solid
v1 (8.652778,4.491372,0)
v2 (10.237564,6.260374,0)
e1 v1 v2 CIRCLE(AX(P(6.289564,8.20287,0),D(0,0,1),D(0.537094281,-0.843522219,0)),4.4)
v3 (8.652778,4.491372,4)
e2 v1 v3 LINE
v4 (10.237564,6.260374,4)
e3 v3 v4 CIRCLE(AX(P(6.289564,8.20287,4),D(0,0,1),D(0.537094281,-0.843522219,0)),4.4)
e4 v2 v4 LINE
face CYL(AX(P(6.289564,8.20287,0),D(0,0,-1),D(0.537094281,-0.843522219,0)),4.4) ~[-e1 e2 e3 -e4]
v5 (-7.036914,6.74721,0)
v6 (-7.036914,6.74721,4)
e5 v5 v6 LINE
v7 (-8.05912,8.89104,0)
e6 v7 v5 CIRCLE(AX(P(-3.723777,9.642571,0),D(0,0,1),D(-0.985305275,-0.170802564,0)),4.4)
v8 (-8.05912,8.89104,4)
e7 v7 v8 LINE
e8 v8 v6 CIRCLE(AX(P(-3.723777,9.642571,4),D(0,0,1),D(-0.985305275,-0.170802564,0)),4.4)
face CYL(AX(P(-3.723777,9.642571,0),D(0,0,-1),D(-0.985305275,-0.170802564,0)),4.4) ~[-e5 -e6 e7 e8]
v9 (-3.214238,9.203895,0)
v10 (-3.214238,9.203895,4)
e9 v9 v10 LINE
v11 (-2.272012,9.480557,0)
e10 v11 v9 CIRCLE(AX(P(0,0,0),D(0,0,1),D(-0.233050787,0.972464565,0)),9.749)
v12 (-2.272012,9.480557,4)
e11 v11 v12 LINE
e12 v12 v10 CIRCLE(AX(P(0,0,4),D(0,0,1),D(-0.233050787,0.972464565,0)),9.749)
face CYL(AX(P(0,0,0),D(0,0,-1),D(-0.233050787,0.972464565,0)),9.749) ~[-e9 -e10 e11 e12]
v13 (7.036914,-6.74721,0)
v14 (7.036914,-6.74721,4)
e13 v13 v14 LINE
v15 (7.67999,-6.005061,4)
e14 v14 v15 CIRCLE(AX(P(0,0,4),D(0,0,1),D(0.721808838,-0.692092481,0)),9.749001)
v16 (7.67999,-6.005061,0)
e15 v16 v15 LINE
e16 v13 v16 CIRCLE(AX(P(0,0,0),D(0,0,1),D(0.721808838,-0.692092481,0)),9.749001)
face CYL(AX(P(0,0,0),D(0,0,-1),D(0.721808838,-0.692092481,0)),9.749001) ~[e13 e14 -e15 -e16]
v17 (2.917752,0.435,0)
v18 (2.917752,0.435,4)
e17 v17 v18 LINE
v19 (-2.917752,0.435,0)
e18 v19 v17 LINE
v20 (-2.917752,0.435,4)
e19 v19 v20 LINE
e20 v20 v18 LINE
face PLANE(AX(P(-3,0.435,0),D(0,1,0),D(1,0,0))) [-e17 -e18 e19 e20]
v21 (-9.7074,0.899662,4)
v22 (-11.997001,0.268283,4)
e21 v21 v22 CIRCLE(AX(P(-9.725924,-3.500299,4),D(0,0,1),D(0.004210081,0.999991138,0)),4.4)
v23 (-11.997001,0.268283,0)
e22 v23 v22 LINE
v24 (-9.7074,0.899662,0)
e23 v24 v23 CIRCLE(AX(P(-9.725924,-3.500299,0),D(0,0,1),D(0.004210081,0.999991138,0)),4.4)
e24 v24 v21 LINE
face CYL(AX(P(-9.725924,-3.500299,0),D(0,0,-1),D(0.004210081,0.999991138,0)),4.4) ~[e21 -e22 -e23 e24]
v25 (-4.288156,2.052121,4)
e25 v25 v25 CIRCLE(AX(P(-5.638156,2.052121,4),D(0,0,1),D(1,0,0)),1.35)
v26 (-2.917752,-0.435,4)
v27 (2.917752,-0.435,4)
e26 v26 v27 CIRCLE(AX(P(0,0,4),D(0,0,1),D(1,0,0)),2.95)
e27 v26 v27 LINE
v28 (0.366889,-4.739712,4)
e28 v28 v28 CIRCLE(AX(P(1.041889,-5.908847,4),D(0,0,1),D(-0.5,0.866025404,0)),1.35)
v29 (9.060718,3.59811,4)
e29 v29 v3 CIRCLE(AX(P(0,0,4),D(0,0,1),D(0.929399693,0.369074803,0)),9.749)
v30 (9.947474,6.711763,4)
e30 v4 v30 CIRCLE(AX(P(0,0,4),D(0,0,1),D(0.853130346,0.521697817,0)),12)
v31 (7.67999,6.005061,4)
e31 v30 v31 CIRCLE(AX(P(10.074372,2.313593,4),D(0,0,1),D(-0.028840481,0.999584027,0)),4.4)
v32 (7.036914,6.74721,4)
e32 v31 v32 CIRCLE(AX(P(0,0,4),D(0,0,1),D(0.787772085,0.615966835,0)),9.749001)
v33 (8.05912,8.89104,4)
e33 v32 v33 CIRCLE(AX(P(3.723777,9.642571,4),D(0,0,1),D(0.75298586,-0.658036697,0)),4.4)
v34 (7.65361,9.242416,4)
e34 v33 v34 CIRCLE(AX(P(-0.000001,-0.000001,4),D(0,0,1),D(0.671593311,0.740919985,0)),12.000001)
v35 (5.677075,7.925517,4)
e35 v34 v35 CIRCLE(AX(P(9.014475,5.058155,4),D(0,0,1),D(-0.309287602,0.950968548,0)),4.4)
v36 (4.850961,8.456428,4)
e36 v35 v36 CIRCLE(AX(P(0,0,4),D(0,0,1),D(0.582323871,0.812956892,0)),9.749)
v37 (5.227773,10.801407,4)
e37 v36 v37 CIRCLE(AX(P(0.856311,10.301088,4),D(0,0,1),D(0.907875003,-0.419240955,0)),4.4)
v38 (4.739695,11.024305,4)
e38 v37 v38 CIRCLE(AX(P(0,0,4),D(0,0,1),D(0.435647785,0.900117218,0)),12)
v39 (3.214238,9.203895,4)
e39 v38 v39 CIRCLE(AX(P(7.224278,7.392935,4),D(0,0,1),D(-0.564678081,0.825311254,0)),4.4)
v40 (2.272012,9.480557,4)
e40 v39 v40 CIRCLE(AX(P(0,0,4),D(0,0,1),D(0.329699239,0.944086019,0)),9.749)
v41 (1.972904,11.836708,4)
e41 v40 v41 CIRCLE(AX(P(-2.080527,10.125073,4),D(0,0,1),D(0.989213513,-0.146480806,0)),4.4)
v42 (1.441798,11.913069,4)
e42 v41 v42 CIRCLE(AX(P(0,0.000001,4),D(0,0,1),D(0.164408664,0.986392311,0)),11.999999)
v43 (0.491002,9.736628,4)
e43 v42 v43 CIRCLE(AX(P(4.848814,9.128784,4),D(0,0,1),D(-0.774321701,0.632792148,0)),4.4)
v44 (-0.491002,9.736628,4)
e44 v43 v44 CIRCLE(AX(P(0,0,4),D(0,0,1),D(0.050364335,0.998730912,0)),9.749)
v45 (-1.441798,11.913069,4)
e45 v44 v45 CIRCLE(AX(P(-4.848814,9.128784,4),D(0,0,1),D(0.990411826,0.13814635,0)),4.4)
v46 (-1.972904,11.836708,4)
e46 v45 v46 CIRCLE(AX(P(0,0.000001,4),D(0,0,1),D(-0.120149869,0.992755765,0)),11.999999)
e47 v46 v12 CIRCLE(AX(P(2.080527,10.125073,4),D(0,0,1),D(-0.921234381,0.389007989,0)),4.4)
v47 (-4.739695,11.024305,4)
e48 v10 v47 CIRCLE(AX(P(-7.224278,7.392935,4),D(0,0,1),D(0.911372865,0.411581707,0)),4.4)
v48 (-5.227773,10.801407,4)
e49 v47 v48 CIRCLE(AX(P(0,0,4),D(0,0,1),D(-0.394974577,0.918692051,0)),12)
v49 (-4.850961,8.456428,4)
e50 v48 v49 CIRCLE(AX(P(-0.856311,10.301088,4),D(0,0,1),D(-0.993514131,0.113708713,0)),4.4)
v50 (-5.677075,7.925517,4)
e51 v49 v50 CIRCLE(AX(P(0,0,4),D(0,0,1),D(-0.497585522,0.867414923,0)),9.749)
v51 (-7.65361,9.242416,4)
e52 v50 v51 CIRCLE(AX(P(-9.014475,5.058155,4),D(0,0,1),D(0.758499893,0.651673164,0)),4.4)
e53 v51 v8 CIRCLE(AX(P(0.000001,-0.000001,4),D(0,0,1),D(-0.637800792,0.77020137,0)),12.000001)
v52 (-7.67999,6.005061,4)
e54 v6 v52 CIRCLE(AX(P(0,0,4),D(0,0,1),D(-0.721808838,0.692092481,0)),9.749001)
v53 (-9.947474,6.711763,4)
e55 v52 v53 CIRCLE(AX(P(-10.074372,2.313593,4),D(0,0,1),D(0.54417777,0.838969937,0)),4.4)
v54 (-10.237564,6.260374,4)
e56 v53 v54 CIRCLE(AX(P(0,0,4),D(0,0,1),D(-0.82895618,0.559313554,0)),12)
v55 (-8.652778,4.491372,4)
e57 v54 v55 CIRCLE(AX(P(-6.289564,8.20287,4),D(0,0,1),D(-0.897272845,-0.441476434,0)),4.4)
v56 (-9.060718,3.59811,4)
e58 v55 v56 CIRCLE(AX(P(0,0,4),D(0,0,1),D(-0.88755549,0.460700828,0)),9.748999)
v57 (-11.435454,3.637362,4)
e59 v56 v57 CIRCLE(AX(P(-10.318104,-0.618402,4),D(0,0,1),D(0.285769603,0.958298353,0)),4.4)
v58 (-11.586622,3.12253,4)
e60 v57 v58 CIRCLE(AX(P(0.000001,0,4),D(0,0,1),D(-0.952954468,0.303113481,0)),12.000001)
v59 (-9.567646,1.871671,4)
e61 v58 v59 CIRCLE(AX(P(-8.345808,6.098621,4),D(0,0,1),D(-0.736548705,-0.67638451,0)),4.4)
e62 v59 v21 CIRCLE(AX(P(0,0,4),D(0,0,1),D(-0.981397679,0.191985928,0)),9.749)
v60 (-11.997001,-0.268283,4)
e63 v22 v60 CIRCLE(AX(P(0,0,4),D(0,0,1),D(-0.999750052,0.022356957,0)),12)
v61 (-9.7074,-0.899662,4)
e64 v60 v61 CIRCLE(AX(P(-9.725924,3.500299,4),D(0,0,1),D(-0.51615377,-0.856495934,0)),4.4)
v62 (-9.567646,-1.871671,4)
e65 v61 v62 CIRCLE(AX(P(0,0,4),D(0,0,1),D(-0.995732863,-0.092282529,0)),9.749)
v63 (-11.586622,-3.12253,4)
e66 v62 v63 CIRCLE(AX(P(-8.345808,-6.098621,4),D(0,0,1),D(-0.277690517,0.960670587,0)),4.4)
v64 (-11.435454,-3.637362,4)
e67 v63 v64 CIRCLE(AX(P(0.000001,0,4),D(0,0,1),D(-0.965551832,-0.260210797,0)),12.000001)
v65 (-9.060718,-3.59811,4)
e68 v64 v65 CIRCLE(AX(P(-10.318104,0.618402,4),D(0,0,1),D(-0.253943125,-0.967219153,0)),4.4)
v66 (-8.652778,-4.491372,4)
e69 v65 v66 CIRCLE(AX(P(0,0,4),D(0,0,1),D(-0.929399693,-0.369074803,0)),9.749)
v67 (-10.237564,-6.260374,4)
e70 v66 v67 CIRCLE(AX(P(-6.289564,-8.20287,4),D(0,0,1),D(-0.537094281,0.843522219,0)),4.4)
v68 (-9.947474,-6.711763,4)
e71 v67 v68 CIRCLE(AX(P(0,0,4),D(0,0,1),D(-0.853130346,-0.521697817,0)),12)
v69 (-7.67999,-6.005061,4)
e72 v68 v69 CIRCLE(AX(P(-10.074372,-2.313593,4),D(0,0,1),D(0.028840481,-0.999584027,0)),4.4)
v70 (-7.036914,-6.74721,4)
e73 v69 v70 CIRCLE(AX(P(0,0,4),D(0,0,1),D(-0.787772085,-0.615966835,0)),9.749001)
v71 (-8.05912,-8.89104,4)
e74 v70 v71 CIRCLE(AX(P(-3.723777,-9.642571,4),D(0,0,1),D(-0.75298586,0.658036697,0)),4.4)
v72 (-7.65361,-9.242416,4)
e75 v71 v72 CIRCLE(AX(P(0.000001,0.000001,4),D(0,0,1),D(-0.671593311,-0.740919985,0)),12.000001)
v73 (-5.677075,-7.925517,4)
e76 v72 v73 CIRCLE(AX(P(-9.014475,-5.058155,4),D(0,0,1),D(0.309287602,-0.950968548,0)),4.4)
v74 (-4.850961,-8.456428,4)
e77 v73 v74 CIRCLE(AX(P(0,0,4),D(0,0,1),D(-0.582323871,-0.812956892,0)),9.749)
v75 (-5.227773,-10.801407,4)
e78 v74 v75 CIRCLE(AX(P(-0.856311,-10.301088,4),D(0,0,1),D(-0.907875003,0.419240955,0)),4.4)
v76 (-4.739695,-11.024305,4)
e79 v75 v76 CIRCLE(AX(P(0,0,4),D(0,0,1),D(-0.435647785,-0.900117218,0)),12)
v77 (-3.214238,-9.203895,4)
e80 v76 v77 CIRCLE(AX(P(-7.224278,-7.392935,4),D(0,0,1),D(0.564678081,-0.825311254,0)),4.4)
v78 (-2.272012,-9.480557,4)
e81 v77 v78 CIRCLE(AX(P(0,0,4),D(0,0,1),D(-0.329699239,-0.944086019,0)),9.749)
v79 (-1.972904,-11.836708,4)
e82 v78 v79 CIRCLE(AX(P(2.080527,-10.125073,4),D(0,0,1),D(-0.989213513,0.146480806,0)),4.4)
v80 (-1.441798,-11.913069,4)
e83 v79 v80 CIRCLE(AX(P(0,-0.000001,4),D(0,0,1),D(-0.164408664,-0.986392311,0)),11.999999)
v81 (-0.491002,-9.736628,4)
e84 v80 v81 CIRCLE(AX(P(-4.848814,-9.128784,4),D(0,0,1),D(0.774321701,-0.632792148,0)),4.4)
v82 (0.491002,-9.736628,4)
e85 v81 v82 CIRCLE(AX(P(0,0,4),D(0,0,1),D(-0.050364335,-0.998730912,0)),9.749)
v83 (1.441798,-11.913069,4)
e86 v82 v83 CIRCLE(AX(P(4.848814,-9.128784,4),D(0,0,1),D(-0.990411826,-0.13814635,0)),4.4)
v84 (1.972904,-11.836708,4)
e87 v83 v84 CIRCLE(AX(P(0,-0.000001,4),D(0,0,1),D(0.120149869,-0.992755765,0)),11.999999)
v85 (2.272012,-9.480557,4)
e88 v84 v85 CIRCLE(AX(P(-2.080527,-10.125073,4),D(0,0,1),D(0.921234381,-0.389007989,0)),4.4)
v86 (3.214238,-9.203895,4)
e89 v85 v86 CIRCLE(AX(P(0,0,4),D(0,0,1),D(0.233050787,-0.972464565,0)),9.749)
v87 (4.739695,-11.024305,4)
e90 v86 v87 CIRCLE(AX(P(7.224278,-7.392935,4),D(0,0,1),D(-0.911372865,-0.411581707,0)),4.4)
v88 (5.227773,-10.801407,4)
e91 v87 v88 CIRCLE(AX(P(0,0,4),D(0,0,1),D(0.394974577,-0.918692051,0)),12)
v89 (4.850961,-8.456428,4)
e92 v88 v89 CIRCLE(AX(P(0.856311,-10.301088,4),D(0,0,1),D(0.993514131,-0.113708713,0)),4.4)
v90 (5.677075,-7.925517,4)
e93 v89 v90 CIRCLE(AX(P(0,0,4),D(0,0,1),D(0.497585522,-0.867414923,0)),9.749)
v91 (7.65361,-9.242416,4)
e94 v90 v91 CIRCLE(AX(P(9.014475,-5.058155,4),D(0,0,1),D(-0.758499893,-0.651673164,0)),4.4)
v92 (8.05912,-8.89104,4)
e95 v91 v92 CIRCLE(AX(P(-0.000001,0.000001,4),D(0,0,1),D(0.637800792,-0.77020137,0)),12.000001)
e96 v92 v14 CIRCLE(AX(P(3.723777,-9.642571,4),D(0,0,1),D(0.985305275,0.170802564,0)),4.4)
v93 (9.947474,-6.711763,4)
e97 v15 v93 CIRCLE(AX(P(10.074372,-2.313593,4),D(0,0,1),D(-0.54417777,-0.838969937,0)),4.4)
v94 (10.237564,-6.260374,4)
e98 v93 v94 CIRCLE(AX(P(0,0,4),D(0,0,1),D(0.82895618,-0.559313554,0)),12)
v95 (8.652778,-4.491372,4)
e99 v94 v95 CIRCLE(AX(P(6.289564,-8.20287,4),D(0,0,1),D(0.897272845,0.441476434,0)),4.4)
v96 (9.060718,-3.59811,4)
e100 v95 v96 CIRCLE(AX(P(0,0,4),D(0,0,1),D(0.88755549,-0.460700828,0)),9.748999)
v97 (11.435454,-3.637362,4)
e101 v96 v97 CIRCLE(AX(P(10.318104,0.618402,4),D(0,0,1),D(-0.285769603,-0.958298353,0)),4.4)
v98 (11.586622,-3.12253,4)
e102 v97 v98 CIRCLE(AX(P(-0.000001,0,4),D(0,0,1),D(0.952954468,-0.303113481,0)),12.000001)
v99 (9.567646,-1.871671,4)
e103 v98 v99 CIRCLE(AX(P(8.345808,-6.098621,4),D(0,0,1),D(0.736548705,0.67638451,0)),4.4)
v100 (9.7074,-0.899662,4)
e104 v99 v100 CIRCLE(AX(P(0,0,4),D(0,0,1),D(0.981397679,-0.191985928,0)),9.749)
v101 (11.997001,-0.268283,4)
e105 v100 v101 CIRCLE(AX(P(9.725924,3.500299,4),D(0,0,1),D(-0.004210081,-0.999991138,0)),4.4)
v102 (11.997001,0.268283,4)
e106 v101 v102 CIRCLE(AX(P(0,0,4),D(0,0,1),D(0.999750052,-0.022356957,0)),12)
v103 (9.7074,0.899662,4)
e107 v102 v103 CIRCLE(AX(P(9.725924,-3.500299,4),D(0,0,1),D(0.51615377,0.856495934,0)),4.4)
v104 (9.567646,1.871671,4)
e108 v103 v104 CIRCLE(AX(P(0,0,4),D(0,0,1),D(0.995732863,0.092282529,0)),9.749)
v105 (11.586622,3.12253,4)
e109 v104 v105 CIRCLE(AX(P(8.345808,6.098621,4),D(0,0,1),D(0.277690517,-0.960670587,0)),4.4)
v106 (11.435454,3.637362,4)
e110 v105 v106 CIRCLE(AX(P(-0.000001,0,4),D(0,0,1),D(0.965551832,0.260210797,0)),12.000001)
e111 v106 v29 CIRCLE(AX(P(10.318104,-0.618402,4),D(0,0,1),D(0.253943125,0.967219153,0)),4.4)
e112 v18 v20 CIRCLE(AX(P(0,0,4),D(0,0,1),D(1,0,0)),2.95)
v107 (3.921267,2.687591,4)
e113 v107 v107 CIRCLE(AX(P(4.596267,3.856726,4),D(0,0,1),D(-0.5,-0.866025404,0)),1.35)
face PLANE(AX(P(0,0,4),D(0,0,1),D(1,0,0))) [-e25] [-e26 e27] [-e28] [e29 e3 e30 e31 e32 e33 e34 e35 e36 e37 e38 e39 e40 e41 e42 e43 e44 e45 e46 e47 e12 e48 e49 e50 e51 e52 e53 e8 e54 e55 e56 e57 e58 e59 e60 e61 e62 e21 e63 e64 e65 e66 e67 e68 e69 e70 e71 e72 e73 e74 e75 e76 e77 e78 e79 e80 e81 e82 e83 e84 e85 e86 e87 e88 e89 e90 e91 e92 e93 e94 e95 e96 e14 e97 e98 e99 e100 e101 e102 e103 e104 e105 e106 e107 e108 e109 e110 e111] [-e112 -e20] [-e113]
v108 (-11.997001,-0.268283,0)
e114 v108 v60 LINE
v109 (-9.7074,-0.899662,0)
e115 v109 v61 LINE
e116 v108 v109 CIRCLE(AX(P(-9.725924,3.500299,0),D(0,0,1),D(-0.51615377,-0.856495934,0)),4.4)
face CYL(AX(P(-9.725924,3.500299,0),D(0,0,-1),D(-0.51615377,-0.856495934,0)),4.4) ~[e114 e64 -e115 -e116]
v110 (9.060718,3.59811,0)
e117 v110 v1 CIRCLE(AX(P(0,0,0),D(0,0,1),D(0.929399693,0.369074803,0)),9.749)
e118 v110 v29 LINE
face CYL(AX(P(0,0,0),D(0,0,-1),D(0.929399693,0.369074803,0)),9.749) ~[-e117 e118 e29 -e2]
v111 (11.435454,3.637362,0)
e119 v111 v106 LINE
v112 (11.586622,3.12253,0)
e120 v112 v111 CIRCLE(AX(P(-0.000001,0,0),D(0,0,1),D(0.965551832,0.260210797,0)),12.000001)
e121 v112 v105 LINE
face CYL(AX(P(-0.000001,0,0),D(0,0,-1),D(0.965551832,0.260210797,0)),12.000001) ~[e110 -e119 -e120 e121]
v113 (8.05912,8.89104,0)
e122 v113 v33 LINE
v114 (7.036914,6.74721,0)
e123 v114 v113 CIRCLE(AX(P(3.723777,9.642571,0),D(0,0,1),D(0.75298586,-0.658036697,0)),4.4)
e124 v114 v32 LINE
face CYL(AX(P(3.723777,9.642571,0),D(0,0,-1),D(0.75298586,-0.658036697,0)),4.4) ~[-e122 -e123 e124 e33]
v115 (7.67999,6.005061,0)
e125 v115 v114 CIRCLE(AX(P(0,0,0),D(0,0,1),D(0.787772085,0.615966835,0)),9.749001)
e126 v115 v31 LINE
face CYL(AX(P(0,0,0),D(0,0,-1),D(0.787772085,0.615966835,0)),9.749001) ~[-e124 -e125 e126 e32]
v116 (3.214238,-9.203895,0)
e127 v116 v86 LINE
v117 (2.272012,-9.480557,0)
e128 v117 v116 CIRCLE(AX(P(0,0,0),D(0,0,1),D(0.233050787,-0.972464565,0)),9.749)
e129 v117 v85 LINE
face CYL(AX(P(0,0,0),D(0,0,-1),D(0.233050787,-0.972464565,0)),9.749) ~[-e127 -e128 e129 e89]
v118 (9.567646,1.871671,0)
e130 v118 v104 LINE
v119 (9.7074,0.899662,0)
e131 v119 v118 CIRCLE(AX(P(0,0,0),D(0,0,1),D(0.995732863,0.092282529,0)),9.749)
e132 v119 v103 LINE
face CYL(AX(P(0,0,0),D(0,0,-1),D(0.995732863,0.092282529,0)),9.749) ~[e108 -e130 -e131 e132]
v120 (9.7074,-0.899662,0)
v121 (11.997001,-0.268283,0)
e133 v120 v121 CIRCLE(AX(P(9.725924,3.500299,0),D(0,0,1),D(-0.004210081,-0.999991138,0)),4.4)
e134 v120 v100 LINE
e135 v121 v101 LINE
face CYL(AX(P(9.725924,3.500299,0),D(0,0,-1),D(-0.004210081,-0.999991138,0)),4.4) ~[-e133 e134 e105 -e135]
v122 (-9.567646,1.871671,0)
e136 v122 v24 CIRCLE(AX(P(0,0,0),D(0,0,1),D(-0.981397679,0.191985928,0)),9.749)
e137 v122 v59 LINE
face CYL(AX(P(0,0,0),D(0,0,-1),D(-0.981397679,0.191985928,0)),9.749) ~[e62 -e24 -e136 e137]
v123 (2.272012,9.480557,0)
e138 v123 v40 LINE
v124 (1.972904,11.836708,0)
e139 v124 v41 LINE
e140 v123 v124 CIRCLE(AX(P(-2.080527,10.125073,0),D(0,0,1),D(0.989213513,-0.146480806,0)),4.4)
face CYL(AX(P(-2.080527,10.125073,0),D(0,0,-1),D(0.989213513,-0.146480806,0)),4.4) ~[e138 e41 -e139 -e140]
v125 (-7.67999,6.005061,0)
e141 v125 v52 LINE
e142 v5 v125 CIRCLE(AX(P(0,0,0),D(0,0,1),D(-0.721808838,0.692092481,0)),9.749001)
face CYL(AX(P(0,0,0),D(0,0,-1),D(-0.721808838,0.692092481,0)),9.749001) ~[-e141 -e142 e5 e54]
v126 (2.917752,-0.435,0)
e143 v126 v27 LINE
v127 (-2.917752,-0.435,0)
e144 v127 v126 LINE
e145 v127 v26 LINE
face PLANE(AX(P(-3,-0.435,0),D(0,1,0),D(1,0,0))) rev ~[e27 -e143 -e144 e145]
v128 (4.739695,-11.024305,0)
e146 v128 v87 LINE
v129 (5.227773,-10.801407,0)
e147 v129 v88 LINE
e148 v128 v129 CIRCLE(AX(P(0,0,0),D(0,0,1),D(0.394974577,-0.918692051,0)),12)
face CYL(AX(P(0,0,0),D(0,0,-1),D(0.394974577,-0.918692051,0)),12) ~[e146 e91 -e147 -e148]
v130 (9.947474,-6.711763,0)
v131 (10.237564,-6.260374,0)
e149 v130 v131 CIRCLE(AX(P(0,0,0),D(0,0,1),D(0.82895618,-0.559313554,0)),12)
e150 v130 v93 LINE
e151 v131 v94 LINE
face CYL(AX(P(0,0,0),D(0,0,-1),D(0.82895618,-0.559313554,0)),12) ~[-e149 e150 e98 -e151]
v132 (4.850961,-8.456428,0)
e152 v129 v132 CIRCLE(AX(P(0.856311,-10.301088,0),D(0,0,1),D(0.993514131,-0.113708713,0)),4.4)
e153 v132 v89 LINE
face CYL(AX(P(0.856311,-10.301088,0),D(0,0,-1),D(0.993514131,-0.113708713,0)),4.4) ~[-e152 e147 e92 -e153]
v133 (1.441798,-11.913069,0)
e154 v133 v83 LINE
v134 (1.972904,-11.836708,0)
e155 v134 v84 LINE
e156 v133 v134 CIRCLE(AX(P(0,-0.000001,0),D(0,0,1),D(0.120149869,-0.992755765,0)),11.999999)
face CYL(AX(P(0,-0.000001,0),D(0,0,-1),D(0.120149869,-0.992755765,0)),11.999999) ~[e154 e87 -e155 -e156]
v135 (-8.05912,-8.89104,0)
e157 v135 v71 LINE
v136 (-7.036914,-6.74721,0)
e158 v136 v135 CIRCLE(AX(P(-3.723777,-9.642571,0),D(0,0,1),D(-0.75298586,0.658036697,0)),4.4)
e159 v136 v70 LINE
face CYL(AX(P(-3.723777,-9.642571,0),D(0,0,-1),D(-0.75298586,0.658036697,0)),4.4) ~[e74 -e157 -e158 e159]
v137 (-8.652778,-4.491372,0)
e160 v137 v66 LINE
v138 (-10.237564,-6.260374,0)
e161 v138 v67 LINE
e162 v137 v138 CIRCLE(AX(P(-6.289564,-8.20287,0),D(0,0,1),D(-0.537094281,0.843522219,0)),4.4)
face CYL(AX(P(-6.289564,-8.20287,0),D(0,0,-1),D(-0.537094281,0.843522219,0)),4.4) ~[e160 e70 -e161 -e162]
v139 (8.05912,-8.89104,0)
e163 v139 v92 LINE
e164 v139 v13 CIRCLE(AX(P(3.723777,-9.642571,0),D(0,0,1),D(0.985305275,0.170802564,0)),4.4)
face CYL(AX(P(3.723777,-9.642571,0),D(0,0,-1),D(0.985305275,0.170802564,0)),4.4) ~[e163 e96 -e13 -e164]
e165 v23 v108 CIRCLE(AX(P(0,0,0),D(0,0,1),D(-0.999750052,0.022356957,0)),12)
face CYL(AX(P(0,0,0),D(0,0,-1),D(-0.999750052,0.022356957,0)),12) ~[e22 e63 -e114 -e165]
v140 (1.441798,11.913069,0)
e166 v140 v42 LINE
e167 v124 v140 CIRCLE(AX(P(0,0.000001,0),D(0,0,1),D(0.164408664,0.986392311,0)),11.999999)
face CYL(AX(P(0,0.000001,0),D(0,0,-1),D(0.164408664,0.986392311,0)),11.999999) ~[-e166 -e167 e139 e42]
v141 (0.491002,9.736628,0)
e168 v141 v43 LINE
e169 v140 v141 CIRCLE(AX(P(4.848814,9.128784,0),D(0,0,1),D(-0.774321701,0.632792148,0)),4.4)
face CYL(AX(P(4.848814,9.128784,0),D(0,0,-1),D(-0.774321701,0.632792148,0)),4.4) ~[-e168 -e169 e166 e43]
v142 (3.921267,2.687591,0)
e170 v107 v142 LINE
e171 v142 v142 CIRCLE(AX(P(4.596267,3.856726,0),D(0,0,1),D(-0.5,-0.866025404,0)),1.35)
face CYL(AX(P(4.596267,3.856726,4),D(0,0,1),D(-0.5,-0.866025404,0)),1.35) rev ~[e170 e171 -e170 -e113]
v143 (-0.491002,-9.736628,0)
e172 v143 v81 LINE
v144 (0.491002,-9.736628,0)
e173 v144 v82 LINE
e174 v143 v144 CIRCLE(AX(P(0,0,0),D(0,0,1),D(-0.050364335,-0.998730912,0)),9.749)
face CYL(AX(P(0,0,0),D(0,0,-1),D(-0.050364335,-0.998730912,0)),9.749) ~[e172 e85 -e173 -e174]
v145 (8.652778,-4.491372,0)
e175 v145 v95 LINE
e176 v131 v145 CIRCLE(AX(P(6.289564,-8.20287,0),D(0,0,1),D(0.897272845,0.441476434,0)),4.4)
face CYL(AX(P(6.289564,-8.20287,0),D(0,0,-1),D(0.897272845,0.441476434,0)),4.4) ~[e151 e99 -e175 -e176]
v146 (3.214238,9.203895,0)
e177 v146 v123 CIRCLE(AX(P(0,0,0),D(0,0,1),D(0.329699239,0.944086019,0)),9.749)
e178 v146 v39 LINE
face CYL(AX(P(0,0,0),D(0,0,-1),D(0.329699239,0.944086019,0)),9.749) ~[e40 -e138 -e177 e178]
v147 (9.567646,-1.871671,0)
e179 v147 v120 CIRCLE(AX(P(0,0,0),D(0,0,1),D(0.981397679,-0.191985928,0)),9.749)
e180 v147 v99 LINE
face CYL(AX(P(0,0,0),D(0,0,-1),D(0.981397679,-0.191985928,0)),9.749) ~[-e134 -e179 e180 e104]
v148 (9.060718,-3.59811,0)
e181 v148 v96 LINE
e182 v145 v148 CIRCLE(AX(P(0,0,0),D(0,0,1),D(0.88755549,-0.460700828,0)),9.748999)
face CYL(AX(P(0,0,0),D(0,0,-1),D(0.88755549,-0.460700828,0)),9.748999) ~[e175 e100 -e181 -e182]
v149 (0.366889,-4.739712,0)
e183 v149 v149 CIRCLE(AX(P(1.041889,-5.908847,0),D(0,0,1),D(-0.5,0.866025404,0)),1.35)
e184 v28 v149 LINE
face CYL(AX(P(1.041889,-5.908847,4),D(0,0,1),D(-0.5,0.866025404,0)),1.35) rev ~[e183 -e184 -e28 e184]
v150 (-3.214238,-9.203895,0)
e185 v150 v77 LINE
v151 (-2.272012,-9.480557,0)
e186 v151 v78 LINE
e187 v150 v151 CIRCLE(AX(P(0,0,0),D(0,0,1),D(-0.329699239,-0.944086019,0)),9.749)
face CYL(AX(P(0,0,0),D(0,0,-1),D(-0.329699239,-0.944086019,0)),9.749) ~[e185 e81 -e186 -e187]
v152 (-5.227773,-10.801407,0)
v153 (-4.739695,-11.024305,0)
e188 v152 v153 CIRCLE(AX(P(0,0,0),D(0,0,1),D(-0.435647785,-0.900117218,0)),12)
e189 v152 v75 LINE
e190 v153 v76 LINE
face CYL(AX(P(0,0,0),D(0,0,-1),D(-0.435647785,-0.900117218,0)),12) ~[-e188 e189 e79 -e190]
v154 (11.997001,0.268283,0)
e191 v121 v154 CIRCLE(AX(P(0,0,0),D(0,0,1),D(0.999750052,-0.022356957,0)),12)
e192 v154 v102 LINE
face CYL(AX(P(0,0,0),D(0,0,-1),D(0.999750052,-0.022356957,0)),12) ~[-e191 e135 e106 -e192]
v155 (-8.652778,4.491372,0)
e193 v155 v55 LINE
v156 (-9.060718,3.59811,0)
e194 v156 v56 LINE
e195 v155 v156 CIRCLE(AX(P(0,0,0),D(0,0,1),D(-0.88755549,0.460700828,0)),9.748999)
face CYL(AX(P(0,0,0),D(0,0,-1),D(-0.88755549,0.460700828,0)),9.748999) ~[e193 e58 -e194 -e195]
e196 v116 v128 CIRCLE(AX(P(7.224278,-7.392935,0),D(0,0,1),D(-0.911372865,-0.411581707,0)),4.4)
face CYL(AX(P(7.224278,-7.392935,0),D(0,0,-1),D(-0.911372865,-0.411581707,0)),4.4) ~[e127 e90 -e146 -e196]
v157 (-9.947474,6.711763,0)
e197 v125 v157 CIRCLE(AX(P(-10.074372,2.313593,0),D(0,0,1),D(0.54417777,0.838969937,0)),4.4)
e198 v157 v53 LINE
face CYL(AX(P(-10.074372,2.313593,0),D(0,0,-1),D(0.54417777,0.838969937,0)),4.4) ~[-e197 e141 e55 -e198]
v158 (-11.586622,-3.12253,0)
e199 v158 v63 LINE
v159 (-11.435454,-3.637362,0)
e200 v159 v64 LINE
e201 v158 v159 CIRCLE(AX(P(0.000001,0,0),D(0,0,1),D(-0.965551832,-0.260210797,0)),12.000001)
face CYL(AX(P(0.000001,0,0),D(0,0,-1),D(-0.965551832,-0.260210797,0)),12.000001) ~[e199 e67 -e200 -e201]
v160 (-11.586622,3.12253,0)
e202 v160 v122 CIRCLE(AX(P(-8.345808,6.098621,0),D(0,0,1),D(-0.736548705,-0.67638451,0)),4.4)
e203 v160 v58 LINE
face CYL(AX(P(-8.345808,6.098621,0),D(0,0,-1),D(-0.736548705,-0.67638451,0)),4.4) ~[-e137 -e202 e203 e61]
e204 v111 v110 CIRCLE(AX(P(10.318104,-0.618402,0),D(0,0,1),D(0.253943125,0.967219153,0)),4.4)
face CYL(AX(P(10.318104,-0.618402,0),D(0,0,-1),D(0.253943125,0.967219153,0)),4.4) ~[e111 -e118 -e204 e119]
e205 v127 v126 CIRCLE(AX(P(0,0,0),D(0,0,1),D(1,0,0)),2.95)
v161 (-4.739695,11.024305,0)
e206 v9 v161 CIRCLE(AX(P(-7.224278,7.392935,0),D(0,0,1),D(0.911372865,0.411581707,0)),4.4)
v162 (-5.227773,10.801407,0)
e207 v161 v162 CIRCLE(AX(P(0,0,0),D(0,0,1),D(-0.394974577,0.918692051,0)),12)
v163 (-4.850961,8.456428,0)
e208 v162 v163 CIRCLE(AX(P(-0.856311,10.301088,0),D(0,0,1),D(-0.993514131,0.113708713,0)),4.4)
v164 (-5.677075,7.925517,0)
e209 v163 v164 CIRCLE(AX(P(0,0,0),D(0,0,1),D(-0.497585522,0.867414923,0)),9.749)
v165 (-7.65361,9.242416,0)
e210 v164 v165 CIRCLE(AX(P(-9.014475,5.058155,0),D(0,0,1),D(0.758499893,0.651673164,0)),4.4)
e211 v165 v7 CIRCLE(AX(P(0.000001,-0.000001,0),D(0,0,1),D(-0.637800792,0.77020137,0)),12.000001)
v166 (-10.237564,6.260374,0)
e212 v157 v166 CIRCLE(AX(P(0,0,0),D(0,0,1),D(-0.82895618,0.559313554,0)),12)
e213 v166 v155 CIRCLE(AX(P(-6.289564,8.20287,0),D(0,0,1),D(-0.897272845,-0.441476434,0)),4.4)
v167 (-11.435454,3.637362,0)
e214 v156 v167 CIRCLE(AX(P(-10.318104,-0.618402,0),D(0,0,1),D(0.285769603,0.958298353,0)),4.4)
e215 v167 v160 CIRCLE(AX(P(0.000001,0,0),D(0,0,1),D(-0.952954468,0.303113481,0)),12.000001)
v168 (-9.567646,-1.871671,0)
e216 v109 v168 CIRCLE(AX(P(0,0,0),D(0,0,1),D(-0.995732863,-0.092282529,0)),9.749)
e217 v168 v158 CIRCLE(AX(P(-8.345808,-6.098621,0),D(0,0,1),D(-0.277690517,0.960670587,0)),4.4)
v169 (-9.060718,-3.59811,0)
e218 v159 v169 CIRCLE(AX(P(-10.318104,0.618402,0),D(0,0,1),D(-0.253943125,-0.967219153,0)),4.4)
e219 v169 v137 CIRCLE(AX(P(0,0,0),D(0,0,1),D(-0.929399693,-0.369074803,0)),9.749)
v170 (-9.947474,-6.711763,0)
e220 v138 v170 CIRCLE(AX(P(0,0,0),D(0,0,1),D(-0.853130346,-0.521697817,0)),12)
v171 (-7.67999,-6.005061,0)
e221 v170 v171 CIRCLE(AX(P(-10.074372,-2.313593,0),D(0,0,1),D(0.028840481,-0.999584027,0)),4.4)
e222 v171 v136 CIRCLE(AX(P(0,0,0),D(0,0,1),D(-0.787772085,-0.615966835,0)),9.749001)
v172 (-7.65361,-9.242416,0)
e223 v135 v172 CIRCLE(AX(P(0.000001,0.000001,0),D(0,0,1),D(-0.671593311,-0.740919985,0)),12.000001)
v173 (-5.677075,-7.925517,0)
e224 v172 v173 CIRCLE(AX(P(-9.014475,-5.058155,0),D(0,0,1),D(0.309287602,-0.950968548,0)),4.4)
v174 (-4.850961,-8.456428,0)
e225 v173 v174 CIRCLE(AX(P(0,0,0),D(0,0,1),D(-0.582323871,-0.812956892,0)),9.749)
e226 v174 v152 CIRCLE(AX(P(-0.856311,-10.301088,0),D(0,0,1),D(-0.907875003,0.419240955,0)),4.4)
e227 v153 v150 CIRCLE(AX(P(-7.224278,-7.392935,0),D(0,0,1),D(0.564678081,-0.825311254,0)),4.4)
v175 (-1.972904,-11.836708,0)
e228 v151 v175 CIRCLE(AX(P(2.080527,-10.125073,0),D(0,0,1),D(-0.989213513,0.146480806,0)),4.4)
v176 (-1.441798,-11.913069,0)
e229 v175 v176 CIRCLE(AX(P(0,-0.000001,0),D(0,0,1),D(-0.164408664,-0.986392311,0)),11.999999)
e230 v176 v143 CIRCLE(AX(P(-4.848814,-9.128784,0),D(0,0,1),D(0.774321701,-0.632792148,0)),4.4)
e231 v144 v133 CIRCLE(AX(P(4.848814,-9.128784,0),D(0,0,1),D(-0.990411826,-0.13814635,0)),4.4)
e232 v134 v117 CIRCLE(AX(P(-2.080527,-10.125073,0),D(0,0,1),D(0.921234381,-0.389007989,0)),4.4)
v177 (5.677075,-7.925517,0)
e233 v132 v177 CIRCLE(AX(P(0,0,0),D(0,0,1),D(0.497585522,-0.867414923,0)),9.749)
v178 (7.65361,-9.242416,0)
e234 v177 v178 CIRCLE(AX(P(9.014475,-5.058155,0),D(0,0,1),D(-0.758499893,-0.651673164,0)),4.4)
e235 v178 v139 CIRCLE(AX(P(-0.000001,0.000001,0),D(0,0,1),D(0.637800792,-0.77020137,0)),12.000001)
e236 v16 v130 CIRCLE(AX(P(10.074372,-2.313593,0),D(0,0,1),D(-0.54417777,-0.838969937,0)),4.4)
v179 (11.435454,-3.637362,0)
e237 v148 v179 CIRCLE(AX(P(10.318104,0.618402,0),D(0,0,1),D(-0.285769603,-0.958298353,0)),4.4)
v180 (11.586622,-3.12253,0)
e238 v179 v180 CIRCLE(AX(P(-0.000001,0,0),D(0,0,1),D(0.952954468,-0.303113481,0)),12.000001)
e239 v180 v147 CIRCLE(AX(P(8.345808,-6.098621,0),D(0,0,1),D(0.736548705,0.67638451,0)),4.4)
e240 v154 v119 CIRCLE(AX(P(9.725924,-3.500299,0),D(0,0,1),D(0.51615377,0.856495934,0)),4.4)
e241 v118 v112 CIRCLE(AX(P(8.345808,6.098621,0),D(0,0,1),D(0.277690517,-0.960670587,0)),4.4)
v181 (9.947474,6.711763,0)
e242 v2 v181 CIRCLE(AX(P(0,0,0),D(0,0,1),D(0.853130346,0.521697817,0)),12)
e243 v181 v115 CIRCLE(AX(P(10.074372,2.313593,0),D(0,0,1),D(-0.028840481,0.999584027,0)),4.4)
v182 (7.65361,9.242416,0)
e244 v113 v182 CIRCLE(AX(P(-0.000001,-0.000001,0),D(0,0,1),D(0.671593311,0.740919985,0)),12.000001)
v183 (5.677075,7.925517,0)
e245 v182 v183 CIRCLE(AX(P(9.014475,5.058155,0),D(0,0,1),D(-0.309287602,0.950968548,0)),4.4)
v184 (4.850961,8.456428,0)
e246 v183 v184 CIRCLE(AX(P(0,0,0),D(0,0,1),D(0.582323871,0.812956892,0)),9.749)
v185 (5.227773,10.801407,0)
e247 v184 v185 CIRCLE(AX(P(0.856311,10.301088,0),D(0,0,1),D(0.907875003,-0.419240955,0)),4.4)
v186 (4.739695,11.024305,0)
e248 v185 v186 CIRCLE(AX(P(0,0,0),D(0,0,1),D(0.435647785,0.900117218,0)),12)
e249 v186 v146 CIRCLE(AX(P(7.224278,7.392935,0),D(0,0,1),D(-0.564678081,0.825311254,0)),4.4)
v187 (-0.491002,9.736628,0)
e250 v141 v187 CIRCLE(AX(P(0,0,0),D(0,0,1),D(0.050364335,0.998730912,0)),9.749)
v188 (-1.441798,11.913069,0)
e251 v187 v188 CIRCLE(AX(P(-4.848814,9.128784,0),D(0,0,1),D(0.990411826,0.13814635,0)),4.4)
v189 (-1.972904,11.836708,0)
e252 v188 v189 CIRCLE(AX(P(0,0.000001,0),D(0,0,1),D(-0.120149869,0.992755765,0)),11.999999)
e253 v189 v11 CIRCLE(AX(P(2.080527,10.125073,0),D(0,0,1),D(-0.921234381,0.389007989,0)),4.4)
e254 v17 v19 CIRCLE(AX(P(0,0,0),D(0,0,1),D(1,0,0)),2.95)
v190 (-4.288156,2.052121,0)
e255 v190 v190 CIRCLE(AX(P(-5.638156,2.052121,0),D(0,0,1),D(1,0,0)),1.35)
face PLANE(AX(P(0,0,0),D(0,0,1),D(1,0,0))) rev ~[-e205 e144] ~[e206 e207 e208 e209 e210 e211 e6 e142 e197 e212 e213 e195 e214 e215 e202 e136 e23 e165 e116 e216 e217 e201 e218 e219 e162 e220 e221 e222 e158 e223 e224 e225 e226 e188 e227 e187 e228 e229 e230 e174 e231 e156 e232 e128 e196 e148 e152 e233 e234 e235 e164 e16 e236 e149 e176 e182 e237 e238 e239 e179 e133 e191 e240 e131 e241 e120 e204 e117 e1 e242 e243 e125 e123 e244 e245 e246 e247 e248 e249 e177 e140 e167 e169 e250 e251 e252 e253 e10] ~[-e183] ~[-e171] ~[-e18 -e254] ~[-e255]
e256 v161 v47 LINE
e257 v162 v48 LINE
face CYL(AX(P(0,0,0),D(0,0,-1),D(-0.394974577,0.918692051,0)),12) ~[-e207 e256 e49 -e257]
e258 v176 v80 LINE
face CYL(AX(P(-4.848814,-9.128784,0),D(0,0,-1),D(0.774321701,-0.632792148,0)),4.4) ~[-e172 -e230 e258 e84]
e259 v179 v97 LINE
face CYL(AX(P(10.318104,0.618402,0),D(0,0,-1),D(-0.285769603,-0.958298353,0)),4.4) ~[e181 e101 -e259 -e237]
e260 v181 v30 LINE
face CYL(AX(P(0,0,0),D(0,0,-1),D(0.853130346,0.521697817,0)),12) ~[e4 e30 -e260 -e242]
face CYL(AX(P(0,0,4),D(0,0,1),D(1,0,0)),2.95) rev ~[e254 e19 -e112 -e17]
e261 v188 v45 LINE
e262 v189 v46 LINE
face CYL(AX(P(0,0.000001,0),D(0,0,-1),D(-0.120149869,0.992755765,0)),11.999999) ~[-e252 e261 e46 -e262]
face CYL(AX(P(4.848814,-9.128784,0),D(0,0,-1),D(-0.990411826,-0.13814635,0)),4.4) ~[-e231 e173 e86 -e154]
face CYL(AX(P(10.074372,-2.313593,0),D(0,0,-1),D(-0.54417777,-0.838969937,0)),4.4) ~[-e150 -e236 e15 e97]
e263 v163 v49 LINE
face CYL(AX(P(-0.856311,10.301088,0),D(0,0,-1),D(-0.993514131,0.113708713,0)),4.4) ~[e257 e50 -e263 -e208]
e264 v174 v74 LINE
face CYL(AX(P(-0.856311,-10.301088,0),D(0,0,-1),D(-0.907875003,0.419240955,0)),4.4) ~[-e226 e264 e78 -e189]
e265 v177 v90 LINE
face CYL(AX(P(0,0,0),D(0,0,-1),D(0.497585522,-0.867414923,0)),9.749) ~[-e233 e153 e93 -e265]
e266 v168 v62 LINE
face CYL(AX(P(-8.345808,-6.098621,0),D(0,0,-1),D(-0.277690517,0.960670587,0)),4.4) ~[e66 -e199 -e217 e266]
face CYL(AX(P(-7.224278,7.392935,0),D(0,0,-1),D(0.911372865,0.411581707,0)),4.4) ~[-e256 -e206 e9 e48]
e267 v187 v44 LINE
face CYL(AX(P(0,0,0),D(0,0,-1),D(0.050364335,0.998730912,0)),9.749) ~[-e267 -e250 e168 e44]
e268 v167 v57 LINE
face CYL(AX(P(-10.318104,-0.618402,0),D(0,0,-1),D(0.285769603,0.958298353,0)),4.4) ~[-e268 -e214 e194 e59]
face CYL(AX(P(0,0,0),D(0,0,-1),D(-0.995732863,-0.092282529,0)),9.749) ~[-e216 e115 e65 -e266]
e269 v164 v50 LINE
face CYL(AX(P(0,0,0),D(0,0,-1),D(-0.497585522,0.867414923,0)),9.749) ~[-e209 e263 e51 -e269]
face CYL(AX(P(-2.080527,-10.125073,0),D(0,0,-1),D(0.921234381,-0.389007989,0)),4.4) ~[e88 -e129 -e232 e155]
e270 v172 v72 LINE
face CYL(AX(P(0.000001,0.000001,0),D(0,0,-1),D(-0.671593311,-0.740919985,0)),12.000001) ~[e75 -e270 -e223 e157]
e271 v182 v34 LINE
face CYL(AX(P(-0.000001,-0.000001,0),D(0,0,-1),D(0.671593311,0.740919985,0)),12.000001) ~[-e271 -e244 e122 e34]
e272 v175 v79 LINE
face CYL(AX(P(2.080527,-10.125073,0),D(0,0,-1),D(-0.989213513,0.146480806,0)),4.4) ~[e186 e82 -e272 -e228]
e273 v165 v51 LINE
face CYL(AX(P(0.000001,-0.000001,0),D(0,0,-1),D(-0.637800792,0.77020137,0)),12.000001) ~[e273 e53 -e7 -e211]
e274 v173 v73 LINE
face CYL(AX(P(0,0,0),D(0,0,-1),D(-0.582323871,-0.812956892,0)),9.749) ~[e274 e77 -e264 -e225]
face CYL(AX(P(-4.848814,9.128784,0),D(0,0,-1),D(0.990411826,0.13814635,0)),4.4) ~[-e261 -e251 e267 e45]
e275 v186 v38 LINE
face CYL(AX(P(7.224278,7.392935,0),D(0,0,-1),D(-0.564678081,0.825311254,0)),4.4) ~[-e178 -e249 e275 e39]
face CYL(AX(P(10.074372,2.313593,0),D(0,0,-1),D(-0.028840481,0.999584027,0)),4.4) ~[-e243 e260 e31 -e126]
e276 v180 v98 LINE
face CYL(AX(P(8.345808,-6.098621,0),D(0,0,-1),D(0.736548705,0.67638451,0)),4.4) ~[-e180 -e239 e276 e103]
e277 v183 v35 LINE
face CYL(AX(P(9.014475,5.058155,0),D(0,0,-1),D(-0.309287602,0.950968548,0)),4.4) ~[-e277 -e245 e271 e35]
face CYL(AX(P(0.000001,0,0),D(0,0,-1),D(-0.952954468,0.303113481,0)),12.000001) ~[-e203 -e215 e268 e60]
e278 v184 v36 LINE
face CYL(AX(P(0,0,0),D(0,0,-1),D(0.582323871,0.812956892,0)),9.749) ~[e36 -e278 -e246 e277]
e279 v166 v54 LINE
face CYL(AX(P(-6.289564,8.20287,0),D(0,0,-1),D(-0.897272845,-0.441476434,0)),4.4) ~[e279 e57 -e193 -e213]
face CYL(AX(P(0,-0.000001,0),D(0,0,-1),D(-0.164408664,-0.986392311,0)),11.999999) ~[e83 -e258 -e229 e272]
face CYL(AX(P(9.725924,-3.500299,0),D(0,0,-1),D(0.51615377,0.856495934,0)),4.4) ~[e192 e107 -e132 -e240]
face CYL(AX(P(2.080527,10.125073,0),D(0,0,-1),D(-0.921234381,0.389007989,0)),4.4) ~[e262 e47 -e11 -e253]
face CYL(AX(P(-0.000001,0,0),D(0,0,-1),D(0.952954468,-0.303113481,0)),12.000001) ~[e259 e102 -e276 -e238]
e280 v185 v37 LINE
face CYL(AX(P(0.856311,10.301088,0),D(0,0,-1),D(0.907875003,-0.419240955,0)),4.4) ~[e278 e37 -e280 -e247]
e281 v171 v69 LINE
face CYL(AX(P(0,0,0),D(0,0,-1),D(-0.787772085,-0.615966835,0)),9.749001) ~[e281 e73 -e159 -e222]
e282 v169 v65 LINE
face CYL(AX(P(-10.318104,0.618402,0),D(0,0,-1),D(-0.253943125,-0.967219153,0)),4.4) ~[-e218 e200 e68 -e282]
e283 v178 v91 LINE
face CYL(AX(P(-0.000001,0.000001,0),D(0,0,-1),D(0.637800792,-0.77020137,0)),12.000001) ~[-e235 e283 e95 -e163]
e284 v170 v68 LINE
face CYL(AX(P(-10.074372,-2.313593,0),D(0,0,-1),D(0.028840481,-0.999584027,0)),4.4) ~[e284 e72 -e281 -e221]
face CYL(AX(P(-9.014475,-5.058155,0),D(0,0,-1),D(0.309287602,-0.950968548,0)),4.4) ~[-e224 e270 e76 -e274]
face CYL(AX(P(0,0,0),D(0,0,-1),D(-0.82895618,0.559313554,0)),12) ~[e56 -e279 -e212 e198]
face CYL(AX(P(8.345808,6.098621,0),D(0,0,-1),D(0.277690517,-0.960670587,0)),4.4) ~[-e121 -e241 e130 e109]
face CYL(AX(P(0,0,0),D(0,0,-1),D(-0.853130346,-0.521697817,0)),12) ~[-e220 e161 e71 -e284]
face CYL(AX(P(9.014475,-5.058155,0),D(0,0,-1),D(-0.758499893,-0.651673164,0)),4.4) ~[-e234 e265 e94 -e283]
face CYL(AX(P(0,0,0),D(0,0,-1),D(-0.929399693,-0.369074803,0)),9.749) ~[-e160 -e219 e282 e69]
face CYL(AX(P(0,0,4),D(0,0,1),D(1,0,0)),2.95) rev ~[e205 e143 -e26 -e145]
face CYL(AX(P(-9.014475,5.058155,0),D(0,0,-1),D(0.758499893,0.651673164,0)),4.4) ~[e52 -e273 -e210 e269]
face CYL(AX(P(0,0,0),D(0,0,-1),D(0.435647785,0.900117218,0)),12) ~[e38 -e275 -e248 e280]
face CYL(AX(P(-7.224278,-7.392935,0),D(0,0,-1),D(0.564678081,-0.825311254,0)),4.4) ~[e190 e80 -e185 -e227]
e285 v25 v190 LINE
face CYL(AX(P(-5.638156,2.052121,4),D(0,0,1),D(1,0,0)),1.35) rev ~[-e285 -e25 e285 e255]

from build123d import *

# Parameters (mm, degrees)
MODEL_R             = 2.5
BOSS_EXTRUDE1_DEPTH = 4
SKETCH2_R           = 2.95
CUT_EXTRUDE1_DEPTH  = 4
SKETCH3_R           = 1.35
CUT_EXTRUDE2_DEPTH  = 4
CIRPATTERN1_COUNT   = 3
SKETCH5_W           = 6
SKETCH5_H           = 0.87
BOSS_EXTRUDE2_DEPTH = 4


with BuildPart() as part:
    # Model → Boss-Extrude1 (new body)
    with BuildSketch(Plane.XY):
        with BuildLine():
            ThreePointArc((-11.997000624, 0.268283487), (-12, 0), (-11.997000624, -0.268283487))
            ThreePointArc((-11.997000624, -0.268283487), (-10.895606779, -0.741380557), (-9.707399683, -0.89966238))
            ThreePointArc((-9.707399683, -0.89966238), (-9.649769237, -1.387427358), (-9.56764597, -1.8716708))
            ThreePointArc((-9.56764597, -1.8716708), (-10.663129188, -2.358297721), (-11.586621996, -3.122529539))
            ThreePointArc((-11.586621996, -3.122529539), (-11.513915683, -3.380790682), (-11.43545361, -3.637361781))
            ThreePointArc((-11.43545361, -3.637361781), (-10.245387108, -3.780996591), (-9.060717605, -3.598110265))
            ThreePointArc((-9.060717605, -3.598110265), (-8.868002323, -4.049880962), (-8.652778483, -4.491372344))
            ThreePointArc((-8.652778483, -4.491372344), (-9.566788286, -5.266920743), (-10.237564162, -6.260373793))
            ThreePointArc((-10.237564162, -6.260373793), (-10.095042394, -6.487689809), (-9.947474154, -6.711762656))
            ThreePointArc((-9.947474154, -6.711762656), (-8.765147105, -6.514298768), (-7.679990073, -6.005060656))
            ThreePointArc((-7.679990073, -6.005060656), (-7.3678026, -6.384237295), (-7.036914342, -6.747209612))
            ThreePointArc((-7.036914342, -6.747209612), (-7.695403093, -7.74884917), (-8.059119765, -8.891039794))
            ThreePointArc((-8.059119765, -8.891039794), (-7.858328807, -9.068994892), (-7.653609502, -9.242416436))
            ThreePointArc((-7.653609502, -9.242416436), (-6.574807012, -8.719851201), (-5.67707542, -7.925516745))
            ThreePointArc((-5.67707542, -7.925516745), (-5.270707329, -8.201380692), (-4.850961252, -8.456428084))
            ThreePointArc((-4.850961252, -8.456428084), (-5.200582107, -9.603011921), (-5.227773414, -10.801406627))
            ThreePointArc((-5.227773414, -10.801406627), (-4.984980156, -10.915583944), (-4.739694926, -11.024304604))
            ThreePointArc((-4.739694926, -11.024304604), (-3.851815156, -10.218973149), (-3.214237879, -9.203894603))
            ThreePointArc((-3.214237879, -9.203894603), (-2.746610697, -9.354097), (-2.27201213, -9.480557045))
            ThreePointArc((-2.27201213, -9.480557045), (-2.284440889, -10.679195758), (-1.972903952, -11.836707735))
            ThreePointArc((-1.972903952, -11.836707735), (-1.707778059, -11.877857303), (-1.441798455, -11.913069177))
            ThreePointArc((-1.441798455, -11.913069177), (-0.816772145, -10.890214666), (-0.491001901, -9.736627657))
            ThreePointArc((-0.491001901, -9.736627657), (0, -9.749), (0.491001901, -9.736627657))
            ThreePointArc((0.491001901, -9.736627657), (0.816772145, -10.890214666), (1.441798455, -11.913069177))
            ThreePointArc((1.441798455, -11.913069177), (1.707778059, -11.877857303), (1.972903952, -11.836707735))
            ThreePointArc((1.972903952, -11.836707735), (2.284440889, -10.679195758), (2.27201213, -9.480557045))
            ThreePointArc((2.27201213, -9.480557045), (2.746610697, -9.354097), (3.214237879, -9.203894603))
            ThreePointArc((3.214237879, -9.203894603), (3.851815156, -10.218973149), (4.739694926, -11.024304604))
            ThreePointArc((4.739694926, -11.024304604), (4.984980156, -10.915583944), (5.227773414, -10.801406627))
            ThreePointArc((5.227773414, -10.801406627), (5.200582107, -9.603011921), (4.850961252, -8.456428084))
            ThreePointArc((4.850961252, -8.456428084), (5.270707329, -8.201380692), (5.67707542, -7.925516745))
            ThreePointArc((5.67707542, -7.925516745), (6.574807012, -8.719851201), (7.653609502, -9.242416436))
            ThreePointArc((7.653609502, -9.242416436), (7.858328807, -9.068994892), (8.059119765, -8.891039794))
            ThreePointArc((8.059119765, -8.891039794), (7.695403093, -7.74884917), (7.036914342, -6.747209612))
            ThreePointArc((7.036914342, -6.747209612), (7.3678026, -6.384237295), (7.679990073, -6.005060656))
            ThreePointArc((7.679990073, -6.005060656), (8.765147105, -6.514298768), (9.947474154, -6.711762656))
            ThreePointArc((9.947474154, -6.711762656), (10.095042394, -6.487689809), (10.237564162, -6.260373793))
            ThreePointArc((10.237564162, -6.260373793), (9.566788286, -5.266920743), (8.652778482, -4.491372344))
            ThreePointArc((8.652778482, -4.491372344), (8.868002323, -4.049880962), (9.060717605, -3.598110265))
            ThreePointArc((9.060717605, -3.598110265), (10.245387108, -3.780996591), (11.43545361, -3.637361781))
            ThreePointArc((11.43545361, -3.637361781), (11.513915683, -3.380790682), (11.586621996, -3.122529539))
            ThreePointArc((11.586621996, -3.122529539), (10.663129188, -2.358297721), (9.56764597, -1.8716708))
            ThreePointArc((9.56764597, -1.8716708), (9.649769237, -1.387427358), (9.707399683, -0.89966238))
            ThreePointArc((9.707399683, -0.89966238), (10.895606779, -0.741380557), (11.997000624, -0.268283487))
            ThreePointArc((11.997000624, -0.268283487), (12, 0), (11.997000624, 0.268283487))
            ThreePointArc((11.997000624, 0.268283487), (10.895606779, 0.741380557), (9.707399683, 0.89966238))
            ThreePointArc((9.707399683, 0.89966238), (9.649769237, 1.387427358), (9.56764597, 1.8716708))
            ThreePointArc((9.56764597, 1.8716708), (10.663129188, 2.358297721), (11.586621996, 3.122529539))
            ThreePointArc((11.586621996, 3.122529539), (11.513915683, 3.380790682), (11.43545361, 3.637361781))
            ThreePointArc((11.43545361, 3.637361781), (10.245387108, 3.780996591), (9.060717605, 3.598110265))
            ThreePointArc((9.060717605, 3.598110265), (8.868002323, 4.049880962), (8.652778483, 4.491372344))
            ThreePointArc((8.652778483, 4.491372344), (9.566788286, 5.266920743), (10.237564162, 6.260373793))
            ThreePointArc((10.237564162, 6.260373793), (10.095042394, 6.487689809), (9.947474154, 6.711762656))
            ThreePointArc((9.947474154, 6.711762656), (8.765147105, 6.514298768), (7.679990073, 6.005060656))
            ThreePointArc((7.679990073, 6.005060656), (7.3678026, 6.384237295), (7.036914342, 6.747209612))
            ThreePointArc((7.036914342, 6.747209612), (7.695403093, 7.74884917), (8.059119765, 8.891039794))
            ThreePointArc((8.059119765, 8.891039794), (7.858328807, 9.068994892), (7.653609502, 9.242416436))
            ThreePointArc((7.653609502, 9.242416436), (6.574807012, 8.719851201), (5.67707542, 7.925516745))
            ThreePointArc((5.67707542, 7.925516745), (5.270707329, 8.201380692), (4.850961252, 8.456428084))
            ThreePointArc((4.850961252, 8.456428084), (5.200582107, 9.603011921), (5.227773414, 10.801406627))
            ThreePointArc((5.227773414, 10.801406627), (4.984980156, 10.915583944), (4.739694926, 11.024304604))
            ThreePointArc((4.739694926, 11.024304604), (3.851815156, 10.218973149), (3.214237879, 9.203894603))
            ThreePointArc((3.214237879, 9.203894603), (2.746610697, 9.354097), (2.27201213, 9.480557045))
            ThreePointArc((2.27201213, 9.480557045), (2.284440889, 10.679195758), (1.972903952, 11.836707735))
            ThreePointArc((1.972903952, 11.836707735), (1.707778059, 11.877857303), (1.441798455, 11.913069177))
            ThreePointArc((1.441798455, 11.913069177), (0.816772145, 10.890214666), (0.491001901, 9.736627657))
            ThreePointArc((0.491001901, 9.736627657), (0, 9.749), (-0.491001901, 9.736627657))
            ThreePointArc((-0.491001901, 9.736627657), (-0.816772145, 10.890214666), (-1.441798455, 11.913069177))
            ThreePointArc((-1.441798455, 11.913069177), (-1.707778059, 11.877857303), (-1.972903952, 11.836707735))
            ThreePointArc((-1.972903952, 11.836707735), (-2.284440889, 10.679195758), (-2.27201213, 9.480557045))
            ThreePointArc((-2.27201213, 9.480557045), (-2.746610697, 9.354097), (-3.214237879, 9.203894603))
            ThreePointArc((-3.214237879, 9.203894603), (-3.851815156, 10.218973149), (-4.739694926, 11.024304604))
            ThreePointArc((-4.739694926, 11.024304604), (-4.984980156, 10.915583944), (-5.227773414, 10.801406627))
            ThreePointArc((-5.227773414, 10.801406627), (-5.200582107, 9.603011921), (-4.850961252, 8.456428084))
            ThreePointArc((-4.850961252, 8.456428084), (-5.270707329, 8.201380692), (-5.67707542, 7.925516745))
            ThreePointArc((-5.67707542, 7.925516745), (-6.574807012, 8.719851201), (-7.653609502, 9.242416436))
            ThreePointArc((-7.653609502, 9.242416436), (-7.858328807, 9.068994892), (-8.059119765, 8.891039794))
            ThreePointArc((-8.059119765, 8.891039794), (-7.695403093, 7.74884917), (-7.036914342, 6.747209612))
            ThreePointArc((-7.036914342, 6.747209612), (-7.3678026, 6.384237295), (-7.679990073, 6.005060656))
            ThreePointArc((-7.679990073, 6.005060656), (-8.765147105, 6.514298768), (-9.947474154, 6.711762656))
            ThreePointArc((-9.947474154, 6.711762656), (-10.095042394, 6.487689809), (-10.237564162, 6.260373793))
            ThreePointArc((-10.237564162, 6.260373793), (-9.566788286, 5.266920743), (-8.652778482, 4.491372344))
            ThreePointArc((-8.652778482, 4.491372344), (-8.868002323, 4.049880962), (-9.060717605, 3.598110265))
            ThreePointArc((-9.060717605, 3.598110265), (-10.245387108, 3.780996591), (-11.43545361, 3.637361781))
            ThreePointArc((-11.43545361, 3.637361781), (-11.513915683, 3.380790682), (-11.586621996, 3.122529539))
            ThreePointArc((-11.586621996, 3.122529539), (-10.663129188, 2.358297721), (-9.56764597, 1.8716708))
            ThreePointArc((-9.56764597, 1.8716708), (-9.649769237, 1.387427358), (-9.707399683, 0.89966238))
            ThreePointArc((-9.707399683, 0.89966238), (-10.895606779, 0.741380557), (-11.997000624, 0.268283487))
        make_face()
        Circle(MODEL_R, mode=Mode.SUBTRACT)
    extrude(amount=BOSS_EXTRUDE1_DEPTH)

    # Sketch2 → Cut-Extrude1 (cut)
    with BuildSketch(Plane.XY.offset(4)):
        Circle(SKETCH2_R)
    extrude(amount=-CUT_EXTRUDE1_DEPTH, mode=Mode.SUBTRACT)

    # Sketch3 → Cut-Extrude2 (cut)
    with BuildSketch(Plane.XY.offset(4)):
        with Locations((-5.638155725, 2.05212086)):
            Circle(SKETCH3_R)
    cut_extrude2 = extrude(amount=-CUT_EXTRUDE2_DEPTH, mode=Mode.SUBTRACT)

    # CirPattern1: Cut-Extrude2 ×3 about axis
    cirpattern1_axis = Axis((0, 0, 0), (0, 0, 1))
    for i in range(1, CIRPATTERN1_COUNT):
        add(cut_extrude2.rotate(cirpattern1_axis, i * 360 / CIRPATTERN1_COUNT), mode=Mode.SUBTRACT)

    # Sketch5 → Boss-Extrude2 (add)
    with BuildSketch(Plane.XY):
        Rectangle(SKETCH5_W, SKETCH5_H)
    extrude(amount=BOSS_EXTRUDE2_DEPTH)


solid = part.part
